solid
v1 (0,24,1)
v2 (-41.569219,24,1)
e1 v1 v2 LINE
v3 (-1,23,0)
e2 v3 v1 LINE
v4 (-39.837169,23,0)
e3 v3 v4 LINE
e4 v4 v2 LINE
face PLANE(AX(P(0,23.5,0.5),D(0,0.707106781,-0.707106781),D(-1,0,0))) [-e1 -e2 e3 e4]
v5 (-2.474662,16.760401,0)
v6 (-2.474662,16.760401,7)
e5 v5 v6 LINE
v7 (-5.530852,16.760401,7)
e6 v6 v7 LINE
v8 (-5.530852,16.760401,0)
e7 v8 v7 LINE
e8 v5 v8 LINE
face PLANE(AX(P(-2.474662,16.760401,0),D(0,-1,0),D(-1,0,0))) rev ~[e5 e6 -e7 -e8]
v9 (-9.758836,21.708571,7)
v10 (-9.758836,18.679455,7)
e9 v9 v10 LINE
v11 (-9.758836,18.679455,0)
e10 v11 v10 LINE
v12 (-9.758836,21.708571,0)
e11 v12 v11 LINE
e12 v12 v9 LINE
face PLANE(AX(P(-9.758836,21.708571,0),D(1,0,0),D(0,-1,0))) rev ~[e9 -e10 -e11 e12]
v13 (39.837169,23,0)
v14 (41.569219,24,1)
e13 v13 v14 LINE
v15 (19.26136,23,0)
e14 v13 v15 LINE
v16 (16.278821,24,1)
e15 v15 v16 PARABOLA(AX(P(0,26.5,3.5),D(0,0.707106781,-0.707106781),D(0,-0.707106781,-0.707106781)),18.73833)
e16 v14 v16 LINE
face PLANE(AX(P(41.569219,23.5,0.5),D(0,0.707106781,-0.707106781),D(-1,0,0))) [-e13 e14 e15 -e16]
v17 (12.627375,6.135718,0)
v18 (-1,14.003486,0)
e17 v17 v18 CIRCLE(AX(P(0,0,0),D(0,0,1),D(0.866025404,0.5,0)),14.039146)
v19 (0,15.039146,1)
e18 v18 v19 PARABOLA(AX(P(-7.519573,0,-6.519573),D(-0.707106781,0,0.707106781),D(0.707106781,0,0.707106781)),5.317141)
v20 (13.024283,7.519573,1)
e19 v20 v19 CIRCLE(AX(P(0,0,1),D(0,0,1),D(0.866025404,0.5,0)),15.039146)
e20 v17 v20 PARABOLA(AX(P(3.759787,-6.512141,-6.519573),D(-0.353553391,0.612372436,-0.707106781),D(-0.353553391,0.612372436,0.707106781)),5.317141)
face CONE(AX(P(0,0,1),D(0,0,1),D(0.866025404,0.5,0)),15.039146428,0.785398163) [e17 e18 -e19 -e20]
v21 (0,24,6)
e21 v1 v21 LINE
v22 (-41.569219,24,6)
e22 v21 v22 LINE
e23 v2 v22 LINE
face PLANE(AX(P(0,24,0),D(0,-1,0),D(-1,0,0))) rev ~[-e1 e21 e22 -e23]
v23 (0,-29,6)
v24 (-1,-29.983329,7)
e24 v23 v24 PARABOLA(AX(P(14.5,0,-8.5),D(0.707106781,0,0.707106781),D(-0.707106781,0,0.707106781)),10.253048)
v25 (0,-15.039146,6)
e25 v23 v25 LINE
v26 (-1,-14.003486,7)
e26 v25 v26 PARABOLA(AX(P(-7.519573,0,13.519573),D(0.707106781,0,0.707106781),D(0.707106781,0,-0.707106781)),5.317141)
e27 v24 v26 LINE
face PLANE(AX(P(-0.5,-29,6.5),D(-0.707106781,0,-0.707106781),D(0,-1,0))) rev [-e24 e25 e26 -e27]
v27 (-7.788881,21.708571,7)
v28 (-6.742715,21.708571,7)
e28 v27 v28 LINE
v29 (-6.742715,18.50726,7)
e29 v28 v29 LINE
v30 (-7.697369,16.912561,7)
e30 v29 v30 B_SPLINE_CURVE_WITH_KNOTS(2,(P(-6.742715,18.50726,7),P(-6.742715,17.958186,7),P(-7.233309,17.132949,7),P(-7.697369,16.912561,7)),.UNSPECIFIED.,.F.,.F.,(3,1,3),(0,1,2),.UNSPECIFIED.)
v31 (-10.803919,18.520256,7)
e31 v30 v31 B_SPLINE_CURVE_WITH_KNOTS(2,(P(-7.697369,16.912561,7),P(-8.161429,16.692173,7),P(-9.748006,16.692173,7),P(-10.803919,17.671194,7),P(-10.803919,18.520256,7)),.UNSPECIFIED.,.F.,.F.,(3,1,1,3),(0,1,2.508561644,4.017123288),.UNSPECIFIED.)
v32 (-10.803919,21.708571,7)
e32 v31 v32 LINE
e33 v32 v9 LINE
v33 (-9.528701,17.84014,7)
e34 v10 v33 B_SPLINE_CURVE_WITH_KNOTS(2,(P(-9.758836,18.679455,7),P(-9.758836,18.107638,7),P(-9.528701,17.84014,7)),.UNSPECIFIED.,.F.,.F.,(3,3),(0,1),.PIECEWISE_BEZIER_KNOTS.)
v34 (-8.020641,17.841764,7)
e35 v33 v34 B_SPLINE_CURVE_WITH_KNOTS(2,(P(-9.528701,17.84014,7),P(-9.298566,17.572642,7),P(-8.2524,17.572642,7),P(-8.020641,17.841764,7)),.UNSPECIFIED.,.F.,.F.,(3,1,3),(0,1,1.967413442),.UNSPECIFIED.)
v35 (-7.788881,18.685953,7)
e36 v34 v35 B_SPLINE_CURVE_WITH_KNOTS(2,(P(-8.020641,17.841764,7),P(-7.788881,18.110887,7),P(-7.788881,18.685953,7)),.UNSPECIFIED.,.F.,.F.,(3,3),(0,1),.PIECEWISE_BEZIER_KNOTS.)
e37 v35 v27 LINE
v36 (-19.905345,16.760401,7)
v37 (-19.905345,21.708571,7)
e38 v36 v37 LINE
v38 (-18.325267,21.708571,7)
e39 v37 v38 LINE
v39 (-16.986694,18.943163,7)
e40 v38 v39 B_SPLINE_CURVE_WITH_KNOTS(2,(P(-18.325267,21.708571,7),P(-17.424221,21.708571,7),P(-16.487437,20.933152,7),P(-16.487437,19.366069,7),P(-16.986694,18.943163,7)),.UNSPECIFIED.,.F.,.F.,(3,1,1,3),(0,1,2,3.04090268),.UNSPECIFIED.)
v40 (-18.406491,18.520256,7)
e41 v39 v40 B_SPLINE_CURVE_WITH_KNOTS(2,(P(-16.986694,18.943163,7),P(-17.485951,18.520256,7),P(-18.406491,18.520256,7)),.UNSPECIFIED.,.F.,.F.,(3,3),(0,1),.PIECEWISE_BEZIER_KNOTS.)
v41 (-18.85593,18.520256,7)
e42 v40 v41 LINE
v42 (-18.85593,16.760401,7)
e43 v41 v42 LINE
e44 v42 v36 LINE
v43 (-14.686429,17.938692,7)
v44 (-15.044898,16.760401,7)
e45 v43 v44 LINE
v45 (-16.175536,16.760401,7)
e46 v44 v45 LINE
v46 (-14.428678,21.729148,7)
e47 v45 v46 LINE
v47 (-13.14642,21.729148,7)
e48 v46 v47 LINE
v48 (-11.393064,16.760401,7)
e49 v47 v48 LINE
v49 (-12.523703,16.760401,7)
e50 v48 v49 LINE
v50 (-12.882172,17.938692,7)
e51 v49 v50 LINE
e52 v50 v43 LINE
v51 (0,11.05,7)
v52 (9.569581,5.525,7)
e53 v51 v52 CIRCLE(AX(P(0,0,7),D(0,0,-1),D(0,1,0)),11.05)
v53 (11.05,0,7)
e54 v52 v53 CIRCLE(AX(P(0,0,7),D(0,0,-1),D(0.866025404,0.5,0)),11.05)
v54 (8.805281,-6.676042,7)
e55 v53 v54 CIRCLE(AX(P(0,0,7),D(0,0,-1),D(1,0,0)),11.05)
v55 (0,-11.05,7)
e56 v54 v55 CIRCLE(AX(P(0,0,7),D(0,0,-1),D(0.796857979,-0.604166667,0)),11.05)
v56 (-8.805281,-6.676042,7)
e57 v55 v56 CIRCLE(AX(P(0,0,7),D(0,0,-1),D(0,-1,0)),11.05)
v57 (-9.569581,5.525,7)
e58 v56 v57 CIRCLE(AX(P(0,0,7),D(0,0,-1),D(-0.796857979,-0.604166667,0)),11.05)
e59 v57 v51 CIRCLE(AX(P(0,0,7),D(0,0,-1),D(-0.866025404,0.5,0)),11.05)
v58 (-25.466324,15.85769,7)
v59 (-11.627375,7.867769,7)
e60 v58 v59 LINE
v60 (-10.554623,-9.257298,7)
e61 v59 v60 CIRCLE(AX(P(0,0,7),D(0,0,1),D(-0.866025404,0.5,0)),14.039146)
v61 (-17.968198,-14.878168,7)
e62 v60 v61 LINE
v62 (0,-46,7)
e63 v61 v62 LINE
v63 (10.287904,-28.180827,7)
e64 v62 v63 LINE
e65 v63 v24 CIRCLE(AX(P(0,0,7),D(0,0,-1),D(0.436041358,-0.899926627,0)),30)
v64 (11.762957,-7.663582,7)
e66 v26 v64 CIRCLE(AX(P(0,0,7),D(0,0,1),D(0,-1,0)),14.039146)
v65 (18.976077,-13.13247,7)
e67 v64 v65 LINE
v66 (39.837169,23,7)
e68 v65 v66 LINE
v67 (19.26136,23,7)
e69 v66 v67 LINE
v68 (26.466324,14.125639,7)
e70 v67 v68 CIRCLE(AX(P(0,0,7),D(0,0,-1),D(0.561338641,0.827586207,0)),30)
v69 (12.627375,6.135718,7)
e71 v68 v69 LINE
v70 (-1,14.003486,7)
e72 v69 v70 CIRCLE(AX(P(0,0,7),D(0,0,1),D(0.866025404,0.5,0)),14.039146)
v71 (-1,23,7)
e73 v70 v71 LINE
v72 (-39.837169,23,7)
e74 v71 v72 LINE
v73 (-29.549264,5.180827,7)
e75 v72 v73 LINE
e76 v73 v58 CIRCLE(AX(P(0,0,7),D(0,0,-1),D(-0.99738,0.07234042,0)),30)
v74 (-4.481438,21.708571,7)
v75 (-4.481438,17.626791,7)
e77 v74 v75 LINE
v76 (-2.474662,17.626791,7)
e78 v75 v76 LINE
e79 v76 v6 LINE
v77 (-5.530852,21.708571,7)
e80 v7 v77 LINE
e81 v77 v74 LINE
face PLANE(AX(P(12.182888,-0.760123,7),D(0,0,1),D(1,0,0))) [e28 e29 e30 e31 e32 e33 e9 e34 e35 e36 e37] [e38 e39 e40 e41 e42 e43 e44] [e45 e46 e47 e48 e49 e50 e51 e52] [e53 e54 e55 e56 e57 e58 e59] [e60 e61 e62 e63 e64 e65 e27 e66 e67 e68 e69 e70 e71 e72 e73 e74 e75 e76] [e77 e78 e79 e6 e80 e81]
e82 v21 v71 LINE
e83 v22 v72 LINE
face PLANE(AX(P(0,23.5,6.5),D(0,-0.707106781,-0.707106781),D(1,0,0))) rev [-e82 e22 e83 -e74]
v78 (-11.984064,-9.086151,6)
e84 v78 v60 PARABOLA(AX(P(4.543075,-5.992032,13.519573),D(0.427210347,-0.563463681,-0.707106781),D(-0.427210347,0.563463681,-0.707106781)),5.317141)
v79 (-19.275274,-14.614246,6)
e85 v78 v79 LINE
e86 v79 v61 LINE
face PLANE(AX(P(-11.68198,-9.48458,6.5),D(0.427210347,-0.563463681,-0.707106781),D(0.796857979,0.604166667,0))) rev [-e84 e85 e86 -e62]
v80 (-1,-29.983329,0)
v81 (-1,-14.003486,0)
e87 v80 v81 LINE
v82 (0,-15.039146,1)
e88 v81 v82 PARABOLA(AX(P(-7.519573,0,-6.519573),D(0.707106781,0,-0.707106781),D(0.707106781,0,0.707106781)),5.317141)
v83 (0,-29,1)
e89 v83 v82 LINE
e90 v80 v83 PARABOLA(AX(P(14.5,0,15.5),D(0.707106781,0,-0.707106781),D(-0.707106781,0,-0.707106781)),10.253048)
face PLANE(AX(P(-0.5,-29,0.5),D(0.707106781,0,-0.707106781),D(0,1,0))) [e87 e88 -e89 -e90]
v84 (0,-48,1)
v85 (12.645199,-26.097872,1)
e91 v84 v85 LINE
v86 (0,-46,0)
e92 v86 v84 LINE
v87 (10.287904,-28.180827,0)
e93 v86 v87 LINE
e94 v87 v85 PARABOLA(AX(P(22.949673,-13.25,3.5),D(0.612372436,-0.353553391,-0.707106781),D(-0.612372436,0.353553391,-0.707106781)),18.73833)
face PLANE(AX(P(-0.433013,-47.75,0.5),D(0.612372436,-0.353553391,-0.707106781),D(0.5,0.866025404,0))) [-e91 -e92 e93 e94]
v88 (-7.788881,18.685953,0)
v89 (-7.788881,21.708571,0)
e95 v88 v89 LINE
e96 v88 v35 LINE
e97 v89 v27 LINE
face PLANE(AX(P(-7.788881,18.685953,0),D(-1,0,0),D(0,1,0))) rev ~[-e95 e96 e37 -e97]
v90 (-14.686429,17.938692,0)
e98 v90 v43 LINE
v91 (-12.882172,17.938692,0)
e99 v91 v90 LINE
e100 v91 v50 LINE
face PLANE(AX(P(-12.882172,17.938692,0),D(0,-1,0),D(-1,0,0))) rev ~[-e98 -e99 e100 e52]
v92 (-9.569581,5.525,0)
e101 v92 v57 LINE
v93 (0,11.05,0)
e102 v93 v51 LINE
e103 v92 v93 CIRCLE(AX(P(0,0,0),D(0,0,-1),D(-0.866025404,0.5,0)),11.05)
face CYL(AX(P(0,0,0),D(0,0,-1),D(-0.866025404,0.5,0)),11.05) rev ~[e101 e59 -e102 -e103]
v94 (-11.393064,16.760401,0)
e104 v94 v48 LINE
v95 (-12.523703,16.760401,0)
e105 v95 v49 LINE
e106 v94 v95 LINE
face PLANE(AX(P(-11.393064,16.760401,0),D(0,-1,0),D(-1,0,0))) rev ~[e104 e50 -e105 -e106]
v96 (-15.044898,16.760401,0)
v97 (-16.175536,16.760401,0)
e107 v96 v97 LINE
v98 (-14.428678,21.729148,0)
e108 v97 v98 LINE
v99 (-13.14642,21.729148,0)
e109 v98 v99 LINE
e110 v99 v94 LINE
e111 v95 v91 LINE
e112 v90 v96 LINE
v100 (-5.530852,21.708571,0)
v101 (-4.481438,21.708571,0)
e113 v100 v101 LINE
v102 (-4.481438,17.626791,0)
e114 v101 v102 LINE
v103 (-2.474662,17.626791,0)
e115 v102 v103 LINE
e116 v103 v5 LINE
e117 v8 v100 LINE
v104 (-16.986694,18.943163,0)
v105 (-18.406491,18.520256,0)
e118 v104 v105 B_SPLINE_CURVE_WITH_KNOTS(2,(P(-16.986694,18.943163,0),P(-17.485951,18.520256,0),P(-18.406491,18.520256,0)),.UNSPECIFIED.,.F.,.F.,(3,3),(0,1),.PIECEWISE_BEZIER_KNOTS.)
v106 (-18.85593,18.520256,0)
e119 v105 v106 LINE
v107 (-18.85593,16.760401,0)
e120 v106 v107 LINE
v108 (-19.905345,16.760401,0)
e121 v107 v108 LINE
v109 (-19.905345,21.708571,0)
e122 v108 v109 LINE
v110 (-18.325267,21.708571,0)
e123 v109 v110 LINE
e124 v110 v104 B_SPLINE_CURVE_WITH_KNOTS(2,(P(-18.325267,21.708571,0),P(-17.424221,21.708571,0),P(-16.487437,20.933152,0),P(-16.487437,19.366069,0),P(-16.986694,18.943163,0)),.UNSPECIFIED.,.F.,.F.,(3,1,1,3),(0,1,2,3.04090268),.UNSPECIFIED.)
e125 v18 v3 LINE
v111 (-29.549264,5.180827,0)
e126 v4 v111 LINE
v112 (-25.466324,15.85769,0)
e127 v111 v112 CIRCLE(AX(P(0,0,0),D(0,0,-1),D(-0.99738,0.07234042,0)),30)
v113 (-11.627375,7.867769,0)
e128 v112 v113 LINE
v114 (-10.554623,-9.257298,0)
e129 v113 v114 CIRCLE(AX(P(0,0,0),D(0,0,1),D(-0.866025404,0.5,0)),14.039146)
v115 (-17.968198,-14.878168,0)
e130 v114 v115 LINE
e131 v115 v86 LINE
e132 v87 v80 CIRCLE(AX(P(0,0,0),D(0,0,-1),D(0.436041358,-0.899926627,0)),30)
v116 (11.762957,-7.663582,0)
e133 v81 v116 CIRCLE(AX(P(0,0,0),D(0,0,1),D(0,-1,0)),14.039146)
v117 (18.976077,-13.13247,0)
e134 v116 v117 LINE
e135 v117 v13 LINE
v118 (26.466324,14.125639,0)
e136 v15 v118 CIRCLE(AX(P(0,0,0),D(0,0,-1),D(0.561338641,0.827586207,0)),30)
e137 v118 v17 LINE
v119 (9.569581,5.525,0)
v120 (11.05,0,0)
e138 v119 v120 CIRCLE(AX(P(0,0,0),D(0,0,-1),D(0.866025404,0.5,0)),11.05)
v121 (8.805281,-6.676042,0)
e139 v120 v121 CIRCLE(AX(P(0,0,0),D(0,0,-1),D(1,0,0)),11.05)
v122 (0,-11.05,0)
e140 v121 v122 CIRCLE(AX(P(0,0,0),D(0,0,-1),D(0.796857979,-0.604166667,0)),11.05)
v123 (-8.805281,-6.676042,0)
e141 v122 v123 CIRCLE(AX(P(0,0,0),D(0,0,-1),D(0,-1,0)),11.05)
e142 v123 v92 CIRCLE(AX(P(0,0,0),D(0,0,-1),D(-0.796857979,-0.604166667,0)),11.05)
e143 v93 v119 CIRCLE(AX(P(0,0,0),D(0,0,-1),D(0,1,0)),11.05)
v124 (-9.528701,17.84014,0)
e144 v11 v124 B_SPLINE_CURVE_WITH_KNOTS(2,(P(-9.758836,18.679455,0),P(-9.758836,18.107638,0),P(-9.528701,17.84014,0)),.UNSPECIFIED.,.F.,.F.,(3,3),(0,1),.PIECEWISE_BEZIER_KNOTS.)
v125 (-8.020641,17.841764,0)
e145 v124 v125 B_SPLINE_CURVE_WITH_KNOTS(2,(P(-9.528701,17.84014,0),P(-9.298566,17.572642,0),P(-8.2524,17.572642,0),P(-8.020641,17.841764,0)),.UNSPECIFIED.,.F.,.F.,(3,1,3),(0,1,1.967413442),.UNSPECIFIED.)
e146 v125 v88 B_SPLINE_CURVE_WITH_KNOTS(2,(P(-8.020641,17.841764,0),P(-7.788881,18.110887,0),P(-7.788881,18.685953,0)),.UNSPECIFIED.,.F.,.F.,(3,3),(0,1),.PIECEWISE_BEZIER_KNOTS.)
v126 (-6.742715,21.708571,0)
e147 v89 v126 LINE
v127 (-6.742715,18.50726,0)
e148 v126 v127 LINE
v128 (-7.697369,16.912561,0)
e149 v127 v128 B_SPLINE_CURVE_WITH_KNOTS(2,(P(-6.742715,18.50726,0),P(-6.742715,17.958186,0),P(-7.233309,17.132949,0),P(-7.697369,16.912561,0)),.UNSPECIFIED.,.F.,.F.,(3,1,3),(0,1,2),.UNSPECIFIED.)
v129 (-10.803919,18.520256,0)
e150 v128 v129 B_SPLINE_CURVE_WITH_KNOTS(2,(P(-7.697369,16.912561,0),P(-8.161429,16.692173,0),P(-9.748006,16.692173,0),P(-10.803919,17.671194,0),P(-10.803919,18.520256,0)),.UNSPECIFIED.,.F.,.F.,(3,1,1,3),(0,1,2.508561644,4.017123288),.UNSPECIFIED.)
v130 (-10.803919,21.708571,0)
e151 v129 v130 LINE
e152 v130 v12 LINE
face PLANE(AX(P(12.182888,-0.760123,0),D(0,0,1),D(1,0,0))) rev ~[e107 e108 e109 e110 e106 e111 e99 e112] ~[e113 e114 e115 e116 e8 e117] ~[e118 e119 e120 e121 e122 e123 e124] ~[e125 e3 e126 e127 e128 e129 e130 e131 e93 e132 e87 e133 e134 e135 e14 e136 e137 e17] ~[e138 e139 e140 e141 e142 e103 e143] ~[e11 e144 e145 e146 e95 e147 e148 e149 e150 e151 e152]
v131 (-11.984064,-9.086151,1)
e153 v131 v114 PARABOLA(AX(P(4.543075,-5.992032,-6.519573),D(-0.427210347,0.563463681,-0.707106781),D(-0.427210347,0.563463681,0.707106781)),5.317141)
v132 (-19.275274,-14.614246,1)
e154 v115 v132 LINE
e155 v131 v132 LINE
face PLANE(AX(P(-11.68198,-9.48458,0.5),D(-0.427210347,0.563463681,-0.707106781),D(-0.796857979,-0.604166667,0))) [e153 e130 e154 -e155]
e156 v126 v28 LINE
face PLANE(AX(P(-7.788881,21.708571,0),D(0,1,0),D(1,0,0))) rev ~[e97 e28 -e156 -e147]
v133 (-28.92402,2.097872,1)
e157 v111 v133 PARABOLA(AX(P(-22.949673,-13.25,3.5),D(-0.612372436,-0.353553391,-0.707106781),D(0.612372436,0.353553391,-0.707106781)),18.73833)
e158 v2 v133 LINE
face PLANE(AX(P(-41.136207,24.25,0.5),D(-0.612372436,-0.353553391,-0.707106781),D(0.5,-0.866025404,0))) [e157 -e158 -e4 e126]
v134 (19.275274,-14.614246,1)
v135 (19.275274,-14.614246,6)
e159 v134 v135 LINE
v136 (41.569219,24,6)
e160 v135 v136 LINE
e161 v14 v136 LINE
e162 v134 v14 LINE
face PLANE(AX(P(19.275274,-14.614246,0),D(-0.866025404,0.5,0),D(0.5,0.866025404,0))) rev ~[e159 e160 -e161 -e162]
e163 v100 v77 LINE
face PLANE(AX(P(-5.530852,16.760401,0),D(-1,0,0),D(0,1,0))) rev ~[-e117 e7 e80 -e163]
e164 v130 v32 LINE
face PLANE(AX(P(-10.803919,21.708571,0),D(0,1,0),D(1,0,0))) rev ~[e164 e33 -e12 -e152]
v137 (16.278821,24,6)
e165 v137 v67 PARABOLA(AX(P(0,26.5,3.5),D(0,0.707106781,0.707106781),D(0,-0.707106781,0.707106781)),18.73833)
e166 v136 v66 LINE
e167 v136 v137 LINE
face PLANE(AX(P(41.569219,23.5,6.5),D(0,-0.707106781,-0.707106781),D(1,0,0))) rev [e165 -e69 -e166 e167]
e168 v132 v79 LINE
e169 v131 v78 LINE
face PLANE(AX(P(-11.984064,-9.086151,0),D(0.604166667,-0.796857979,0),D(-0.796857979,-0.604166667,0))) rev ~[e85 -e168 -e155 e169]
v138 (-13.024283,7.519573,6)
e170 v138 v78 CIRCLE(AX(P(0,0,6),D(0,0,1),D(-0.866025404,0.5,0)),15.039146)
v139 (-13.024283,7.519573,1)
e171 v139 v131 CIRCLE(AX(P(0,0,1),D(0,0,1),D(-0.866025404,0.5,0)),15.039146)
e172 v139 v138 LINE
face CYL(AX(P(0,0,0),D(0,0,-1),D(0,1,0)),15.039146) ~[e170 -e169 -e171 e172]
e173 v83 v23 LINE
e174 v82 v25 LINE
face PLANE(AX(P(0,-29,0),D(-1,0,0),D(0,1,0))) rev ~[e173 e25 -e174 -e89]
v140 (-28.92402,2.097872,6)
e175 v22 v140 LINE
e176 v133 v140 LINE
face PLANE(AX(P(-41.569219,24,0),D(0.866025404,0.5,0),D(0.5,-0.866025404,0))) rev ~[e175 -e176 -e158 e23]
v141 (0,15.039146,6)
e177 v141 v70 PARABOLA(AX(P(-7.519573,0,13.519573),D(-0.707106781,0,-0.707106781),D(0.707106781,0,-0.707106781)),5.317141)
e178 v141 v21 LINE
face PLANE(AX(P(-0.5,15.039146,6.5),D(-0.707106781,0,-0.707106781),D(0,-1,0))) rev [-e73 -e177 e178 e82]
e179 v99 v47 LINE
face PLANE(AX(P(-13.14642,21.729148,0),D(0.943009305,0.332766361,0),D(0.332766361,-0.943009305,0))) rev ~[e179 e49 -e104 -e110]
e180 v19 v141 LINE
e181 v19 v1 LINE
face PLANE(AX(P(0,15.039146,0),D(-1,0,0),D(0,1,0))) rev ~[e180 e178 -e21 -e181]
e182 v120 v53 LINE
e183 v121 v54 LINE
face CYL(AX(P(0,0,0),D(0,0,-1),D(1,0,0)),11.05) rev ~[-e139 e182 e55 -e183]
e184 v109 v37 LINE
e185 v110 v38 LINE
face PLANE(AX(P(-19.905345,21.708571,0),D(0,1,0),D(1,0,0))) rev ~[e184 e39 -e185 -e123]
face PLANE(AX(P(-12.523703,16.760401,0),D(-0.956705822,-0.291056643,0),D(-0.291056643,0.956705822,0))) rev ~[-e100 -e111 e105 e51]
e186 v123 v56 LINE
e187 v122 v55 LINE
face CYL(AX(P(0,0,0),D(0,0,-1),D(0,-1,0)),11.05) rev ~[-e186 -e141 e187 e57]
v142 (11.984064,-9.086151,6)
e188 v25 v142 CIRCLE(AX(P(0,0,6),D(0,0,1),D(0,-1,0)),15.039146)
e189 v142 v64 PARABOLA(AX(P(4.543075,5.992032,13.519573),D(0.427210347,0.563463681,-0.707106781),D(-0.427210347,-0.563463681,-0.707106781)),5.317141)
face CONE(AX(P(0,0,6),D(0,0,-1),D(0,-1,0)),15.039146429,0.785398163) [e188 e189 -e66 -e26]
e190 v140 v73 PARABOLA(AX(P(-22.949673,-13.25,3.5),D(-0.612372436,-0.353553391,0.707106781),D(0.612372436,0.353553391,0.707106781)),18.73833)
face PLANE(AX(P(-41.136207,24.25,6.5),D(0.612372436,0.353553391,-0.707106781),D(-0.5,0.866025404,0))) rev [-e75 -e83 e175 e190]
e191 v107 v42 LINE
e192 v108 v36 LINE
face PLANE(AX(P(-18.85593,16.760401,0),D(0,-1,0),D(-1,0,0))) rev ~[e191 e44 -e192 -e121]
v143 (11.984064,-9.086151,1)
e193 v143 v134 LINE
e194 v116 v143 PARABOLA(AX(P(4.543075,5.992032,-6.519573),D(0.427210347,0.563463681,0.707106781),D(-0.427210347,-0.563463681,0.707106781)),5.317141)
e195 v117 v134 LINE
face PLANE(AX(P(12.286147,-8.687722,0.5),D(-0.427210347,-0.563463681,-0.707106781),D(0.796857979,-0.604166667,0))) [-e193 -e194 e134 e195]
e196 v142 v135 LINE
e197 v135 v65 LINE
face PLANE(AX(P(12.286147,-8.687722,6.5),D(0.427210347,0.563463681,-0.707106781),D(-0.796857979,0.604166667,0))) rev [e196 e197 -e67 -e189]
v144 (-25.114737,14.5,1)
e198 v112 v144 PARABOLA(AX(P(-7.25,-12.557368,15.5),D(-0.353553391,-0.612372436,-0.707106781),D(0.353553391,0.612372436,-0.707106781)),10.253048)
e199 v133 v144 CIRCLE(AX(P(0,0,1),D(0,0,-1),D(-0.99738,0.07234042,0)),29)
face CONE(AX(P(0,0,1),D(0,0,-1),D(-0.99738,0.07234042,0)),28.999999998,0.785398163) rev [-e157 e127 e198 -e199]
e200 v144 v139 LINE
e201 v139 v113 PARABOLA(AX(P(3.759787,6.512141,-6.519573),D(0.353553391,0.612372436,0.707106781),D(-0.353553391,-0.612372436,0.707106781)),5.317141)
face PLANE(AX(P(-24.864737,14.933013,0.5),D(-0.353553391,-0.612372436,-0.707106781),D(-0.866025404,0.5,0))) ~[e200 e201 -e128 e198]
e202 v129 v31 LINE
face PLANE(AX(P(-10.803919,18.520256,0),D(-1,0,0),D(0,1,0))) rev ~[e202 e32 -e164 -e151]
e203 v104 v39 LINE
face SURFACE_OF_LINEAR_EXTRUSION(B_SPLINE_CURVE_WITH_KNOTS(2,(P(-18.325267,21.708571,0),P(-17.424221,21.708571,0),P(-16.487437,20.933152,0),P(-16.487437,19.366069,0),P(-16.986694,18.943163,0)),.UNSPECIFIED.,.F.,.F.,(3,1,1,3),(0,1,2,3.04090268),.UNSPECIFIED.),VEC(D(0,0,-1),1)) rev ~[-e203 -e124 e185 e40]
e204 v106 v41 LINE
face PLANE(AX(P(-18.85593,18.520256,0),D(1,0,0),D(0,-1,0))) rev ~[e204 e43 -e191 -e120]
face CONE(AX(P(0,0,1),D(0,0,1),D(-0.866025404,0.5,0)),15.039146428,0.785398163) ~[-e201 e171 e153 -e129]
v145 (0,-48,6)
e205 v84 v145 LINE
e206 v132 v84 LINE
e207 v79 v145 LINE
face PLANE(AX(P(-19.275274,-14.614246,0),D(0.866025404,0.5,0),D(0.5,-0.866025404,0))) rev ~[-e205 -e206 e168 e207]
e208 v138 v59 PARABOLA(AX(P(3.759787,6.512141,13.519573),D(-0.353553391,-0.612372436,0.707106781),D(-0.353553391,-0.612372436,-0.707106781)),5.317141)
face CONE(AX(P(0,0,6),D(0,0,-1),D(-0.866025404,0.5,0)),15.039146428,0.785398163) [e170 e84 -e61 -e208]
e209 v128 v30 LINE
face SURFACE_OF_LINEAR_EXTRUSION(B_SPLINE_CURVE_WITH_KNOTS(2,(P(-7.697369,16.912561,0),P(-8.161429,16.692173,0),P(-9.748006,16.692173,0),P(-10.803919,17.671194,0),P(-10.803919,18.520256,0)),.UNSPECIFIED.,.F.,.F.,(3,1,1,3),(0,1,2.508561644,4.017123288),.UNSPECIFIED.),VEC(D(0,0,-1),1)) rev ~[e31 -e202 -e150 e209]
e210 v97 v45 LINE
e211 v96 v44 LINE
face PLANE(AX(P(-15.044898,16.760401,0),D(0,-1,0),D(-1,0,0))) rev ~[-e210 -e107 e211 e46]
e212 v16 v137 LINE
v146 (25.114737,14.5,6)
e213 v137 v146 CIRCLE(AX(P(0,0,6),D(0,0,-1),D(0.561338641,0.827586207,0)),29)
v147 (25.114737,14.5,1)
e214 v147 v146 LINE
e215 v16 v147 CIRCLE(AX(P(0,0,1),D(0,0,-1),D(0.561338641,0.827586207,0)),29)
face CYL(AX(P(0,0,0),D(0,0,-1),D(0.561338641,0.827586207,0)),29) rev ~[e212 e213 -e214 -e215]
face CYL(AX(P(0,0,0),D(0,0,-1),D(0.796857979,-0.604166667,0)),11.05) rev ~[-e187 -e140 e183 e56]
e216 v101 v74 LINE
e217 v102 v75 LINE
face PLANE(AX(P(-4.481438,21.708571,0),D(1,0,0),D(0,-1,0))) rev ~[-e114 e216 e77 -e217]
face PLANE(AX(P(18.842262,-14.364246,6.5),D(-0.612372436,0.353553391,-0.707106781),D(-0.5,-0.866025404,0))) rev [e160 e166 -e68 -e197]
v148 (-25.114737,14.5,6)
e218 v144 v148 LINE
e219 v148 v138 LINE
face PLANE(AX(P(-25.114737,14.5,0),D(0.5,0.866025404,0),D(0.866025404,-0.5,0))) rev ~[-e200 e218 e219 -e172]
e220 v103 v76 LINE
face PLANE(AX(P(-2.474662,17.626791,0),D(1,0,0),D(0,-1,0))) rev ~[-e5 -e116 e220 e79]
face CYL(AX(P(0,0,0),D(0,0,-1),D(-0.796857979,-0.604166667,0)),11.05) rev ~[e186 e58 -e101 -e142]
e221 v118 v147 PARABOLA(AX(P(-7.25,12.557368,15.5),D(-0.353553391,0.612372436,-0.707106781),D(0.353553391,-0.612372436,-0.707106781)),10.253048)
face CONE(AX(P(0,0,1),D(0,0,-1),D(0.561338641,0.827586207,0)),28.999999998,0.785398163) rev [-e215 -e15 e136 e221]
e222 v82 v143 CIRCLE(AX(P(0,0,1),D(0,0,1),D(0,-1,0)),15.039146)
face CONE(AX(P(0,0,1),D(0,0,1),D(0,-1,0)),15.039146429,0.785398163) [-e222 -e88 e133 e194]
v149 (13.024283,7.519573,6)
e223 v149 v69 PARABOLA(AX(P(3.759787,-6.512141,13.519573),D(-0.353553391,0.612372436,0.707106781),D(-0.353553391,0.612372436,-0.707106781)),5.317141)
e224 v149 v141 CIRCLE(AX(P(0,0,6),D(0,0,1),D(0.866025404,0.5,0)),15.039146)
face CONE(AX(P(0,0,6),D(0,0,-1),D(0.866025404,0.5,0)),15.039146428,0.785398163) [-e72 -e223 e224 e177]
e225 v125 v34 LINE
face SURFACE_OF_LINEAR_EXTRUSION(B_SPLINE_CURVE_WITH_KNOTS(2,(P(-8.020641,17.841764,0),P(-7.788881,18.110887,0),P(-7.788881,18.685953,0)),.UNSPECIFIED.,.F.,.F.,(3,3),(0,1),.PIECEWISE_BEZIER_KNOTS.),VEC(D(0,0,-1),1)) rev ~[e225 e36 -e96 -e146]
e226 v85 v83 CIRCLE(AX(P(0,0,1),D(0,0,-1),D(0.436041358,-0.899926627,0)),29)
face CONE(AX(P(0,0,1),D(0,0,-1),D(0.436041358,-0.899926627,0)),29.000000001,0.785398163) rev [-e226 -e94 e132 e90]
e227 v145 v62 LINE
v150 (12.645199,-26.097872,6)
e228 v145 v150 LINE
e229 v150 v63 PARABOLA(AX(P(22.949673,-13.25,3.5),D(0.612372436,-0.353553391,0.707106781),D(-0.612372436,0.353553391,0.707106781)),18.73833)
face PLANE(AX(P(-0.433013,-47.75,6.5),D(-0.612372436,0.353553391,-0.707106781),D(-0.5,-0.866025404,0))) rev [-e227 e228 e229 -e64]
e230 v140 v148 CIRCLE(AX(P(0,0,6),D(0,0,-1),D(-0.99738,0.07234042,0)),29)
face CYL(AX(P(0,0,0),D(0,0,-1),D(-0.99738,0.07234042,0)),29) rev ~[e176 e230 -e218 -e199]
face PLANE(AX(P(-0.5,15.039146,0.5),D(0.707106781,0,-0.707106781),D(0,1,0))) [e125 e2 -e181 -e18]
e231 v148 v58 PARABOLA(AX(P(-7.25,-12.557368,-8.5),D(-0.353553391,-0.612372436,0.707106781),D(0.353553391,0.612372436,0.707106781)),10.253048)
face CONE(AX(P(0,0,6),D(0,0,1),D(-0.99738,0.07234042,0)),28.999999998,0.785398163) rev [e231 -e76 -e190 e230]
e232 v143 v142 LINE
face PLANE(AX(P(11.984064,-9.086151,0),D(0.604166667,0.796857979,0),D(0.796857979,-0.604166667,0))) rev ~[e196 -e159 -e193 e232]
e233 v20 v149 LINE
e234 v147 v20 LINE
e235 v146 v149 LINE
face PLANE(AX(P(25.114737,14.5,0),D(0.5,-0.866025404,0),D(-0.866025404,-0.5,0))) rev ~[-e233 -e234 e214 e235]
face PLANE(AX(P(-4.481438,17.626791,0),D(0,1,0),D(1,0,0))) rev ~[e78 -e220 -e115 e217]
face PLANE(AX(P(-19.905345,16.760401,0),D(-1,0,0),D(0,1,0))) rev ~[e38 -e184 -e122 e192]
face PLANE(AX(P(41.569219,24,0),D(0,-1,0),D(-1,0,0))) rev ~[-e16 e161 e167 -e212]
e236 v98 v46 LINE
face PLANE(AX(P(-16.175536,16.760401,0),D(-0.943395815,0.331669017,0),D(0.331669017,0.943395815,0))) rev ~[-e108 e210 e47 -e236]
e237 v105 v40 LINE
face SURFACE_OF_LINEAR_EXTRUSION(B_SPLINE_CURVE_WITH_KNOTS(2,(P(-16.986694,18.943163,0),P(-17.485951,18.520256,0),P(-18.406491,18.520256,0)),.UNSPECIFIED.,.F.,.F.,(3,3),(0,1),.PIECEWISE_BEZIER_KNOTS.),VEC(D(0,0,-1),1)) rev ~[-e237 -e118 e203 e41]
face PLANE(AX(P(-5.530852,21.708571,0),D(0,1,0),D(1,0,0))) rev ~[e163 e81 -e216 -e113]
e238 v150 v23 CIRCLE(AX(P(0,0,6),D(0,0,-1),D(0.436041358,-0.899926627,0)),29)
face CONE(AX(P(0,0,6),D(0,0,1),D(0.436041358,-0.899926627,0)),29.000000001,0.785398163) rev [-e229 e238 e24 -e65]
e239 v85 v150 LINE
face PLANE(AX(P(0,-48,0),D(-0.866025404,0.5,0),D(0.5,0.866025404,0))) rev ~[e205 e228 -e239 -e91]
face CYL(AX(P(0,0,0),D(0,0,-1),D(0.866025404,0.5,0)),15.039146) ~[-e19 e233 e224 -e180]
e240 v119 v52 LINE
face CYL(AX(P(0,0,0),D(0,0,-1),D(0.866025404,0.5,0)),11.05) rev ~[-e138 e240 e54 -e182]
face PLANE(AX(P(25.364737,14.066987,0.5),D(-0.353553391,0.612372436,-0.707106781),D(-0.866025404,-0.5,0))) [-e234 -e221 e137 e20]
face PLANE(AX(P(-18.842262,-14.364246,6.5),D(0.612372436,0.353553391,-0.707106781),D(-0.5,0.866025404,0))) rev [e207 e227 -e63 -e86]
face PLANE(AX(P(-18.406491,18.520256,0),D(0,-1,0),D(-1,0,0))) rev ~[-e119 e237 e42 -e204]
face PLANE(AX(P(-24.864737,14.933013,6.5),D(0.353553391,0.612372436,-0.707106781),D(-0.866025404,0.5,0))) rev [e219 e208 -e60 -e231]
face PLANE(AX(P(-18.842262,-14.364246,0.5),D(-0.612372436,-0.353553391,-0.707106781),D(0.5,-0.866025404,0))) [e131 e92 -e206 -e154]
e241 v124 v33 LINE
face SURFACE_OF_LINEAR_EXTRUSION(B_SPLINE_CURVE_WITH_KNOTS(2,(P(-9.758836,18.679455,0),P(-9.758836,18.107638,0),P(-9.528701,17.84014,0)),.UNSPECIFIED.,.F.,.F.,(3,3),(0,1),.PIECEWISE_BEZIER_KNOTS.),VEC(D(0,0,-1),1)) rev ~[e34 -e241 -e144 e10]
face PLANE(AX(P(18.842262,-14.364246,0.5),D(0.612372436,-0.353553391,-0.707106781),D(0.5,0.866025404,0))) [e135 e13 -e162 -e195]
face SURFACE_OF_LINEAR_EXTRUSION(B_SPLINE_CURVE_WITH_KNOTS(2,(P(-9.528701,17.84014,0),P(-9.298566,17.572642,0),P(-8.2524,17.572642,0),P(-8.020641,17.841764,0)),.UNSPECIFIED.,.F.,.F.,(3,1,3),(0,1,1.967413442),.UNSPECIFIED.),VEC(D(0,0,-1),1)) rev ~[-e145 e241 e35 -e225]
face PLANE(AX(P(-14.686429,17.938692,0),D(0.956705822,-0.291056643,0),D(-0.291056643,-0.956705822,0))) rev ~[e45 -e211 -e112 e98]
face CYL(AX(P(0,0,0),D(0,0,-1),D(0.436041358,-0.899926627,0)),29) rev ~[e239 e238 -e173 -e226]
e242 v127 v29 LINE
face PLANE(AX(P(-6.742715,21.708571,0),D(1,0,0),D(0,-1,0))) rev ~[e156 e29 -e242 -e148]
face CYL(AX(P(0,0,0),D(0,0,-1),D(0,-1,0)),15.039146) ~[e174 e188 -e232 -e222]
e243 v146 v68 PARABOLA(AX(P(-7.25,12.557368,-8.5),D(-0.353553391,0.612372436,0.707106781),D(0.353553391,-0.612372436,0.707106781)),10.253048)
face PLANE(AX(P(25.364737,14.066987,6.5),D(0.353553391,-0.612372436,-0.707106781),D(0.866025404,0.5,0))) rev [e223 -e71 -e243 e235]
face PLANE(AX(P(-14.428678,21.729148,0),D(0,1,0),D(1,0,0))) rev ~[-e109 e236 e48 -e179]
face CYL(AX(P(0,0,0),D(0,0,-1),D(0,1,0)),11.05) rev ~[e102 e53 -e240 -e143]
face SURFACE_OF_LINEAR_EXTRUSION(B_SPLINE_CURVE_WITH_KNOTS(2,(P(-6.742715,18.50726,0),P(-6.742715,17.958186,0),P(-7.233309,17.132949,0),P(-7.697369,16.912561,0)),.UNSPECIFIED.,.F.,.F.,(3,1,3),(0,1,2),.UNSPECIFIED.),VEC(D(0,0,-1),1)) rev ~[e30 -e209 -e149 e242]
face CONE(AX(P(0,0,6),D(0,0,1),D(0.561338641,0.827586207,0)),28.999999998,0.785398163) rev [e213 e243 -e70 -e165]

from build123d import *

# Parameters (mm, degrees)
F1_DEPTH = 7
F2_SIZE  = 1
F3_SIZE  = 1


with BuildPart() as f1:
    # F0 (on Top) → F1 (new body)
    with BuildSketch(Plane.XY):
        with BuildLine():
            ThreePointArc((9.5695807118, 5.525), (10.6734803805, 2.8599504484), (11.05, 0))
            ThreePointArc((11.05, 0), (10.4737971003, -3.5216578911), (8.8052806693, -6.6760416667))
            Line((8.8052806693, -6.6760416667), (11.9840638306, -9.0861509672))
            ThreePointArc((11.9840638306, -9.0861509672), (14.2549292536, -4.7930071218), (15.0391464284, 0))
            ThreePointArc((15.0391464284, 0), (14.5266999405, 3.8924175178), (13.0242828582, 7.5195732142))
            Line((13.0242828582, 7.5195732142), (9.5695807118, 5.525))
        make_face()
        with BuildLine():
            ThreePointArc((0, 11.05), (5.525, 9.5695807118), (9.5695807118, 5.525))
            Line((9.5695807118, 5.525), (13.0242828582, 7.5195732142))
            ThreePointArc((13.0242828582, 7.5195732142), (7.5195732142, 13.0242828582), (0, 15.0391464284))
            Line((0, 15.0391464284), (0, 11.05))
        make_face()
        with BuildLine():
            Line((11.9840638306, -9.0861509672), (8.8052806693, -6.6760416667))
            ThreePointArc((8.8052806693, -6.6760416667), (4.9159047785, -9.8962811302), (0, -11.05))
            Line((0, -11.05), (0, -15.0391464284))
            ThreePointArc((0, -15.0391464284), (6.6905893025, -13.4689249786), (11.9840638306, -9.0861509672))
        make_face()
        with BuildLine():
            ThreePointArc((-9.5695807118, 5.525), (-5.525, 9.5695807118), (0, 11.05))
            Line((0, 11.05), (0, 15.0391464284))
            ThreePointArc((0, 15.0391464284), (-7.5195732142, 13.0242828582), (-13.0242828582, 7.5195732142))
            Line((-13.0242828582, 7.5195732142), (-9.5695807118, 5.525))
        make_face()
        with BuildLine():
            Line((25.1147367097, 14.5), (13.0242828582, 7.5195732142))
            ThreePointArc((13.0242828582, 7.5195732142), (14.5266999405, 3.8924175178), (15.0391464284, 0))
            ThreePointArc((15.0391464284, 0), (14.2549292536, -4.7930071218), (11.9840638306, -9.0861509672))
            Line((11.9840638306, -9.0861509672), (19.2752742891, -14.6142456014))
            Line((19.2752742891, -14.6142456014), (41.5692193817, 24))
            Line((41.5692193817, 24), (16.2788205961, 24))
            ThreePointArc((16.2788205961, 24), (21.2348568775, 19.7504646374), (25.1147367097, 14.5))
        make_face()
        with BuildLine():
            Line((0, -15.0391464284), (0, -11.05))
            ThreePointArc((0, -11.05), (-4.9159047785, -9.8962811302), (-8.8052806693, -6.6760416667))
            Line((-8.8052806693, -6.6760416667), (-11.9840638306, -9.0861509672))
            ThreePointArc((-11.9840638306, -9.0861509672), (-6.6905893025, -13.4689249786), (0, -15.0391464284))
        make_face()
        with BuildLine():
            ThreePointArc((-8.8052806693, -6.6760416667), (-11.028383251, -0.6908421443), (-9.5695807118, 5.525))
            Line((-9.5695807118, 5.525), (-13.0242828582, 7.5195732142))
            ThreePointArc((-13.0242828582, 7.5195732142), (-15.0097258444, -0.9402421871), (-11.9840638306, -9.0861509672))
            Line((-11.9840638306, -9.0861509672), (-8.8052806693, -6.6760416667))
        make_face()
        with BuildLine():
            ThreePointArc((-13.0242828582, 7.5195732142), (-7.5195732142, 13.0242828582), (0, 15.0391464284))
            Line((0, 15.0391464284), (0, 24))
            Line((0, 24), (-41.5692193817, 24))
            Line((-41.5692193817, 24), (-28.9240199889, 2.0978721799))
            ThreePointArc((-28.9240199889, 2.0978721799), (-27.7218325513, 8.514693183), (-25.1147367097, 14.5))
            Line((-25.1147367097, 14.5), (-13.0242828582, 7.5195732142))
        make_face()
        with BuildLine():
            add(Edge.make_bspline(
                [(-16.9558289563, 21.3208617303), (-16.4874368687, 20.9331522104), (-16.4874368687, 20.165314083)],
                knots=[0, 0, 0, 1, 1, 1], degree=2))
            add(Edge.make_bspline(
                [(-16.4874368687, 20.165314083), (-16.4874368687, 19.3660693185), (-16.9866940996, 18.9431627053)],
                knots=[0, 0, 0, 1, 1, 1], degree=2))
            add(Edge.make_bspline(
                [(-16.9866940996, 18.9431627053), (-17.4859513306, 18.5202560921), (-18.4064906935, 18.5202560921)],
                knots=[0, 0, 0, 1, 1, 1], degree=2))
            Line((-18.4064906935, 18.5202560921), (-18.8559305, 18.5202560921))
            Line((-18.8559305, 18.5202560921), (-18.8559305, 16.7604014277))
            Line((-18.8559305, 16.7604014277), (-19.9053453737, 16.7604014277))
            Line((-19.9053453737, 16.7604014277), (-19.9053453737, 21.7085712502))
            Line((-19.9053453737, 21.7085712502), (-18.325266632, 21.7085712502))
            add(Edge.make_bspline(
                [(-18.325266632, 21.7085712502), (-17.4242210439, 21.7085712502), (-16.9558289563, 21.3208617303)],
                knots=[0, 0, 0, 1, 1, 1], degree=2))
        make_face(mode=Mode.SUBTRACT)
        Polygon((-11.3930637356, 16.7604014277), (-12.5237026708, 16.7604014277), (-12.8821715286, 17.9386918123), (-14.6864286799, 17.9386918123), (-15.0448975376, 16.7604014277), (-16.1755364728, 16.7604014277), (-14.4286776582, 21.7291480124), (-13.1464204751, 21.7291480124), align=None, mode=Mode.SUBTRACT)
        with BuildLine():
            Line((-7.788881383, 21.7085712502), (-6.7427154718, 21.7085712502))
            Line((-6.7427154718, 21.7085712502), (-6.7427154718, 18.5072602423))
            add(Edge.make_bspline(
                [(-6.7427154718, 18.5072602423), (-6.7427154718, 17.958185587), (-6.9880121373, 17.5455673549)],
                knots=[0, 0, 0, 1, 1, 1], degree=2))
            add(Edge.make_bspline(
                [(-6.9880121373, 17.5455673549), (-7.2333088028, 17.1329491228), (-7.6973689405, 16.9125611695)],
                knots=[0, 0, 0, 1, 1, 1], degree=2))
            add(Edge.make_bspline(
                [(-7.6973689405, 16.9125611695), (-8.1614290781, 16.6921732161), (-8.7938937698, 16.6921732161)],
                knots=[0, 0, 0, 1, 1, 1], degree=2))
            add(Edge.make_bspline(
                [(-8.7938937698, 16.6921732161), (-9.7480057448, 16.6921732161), (-10.2759621441, 17.1816835597)],
                knots=[0, 0, 0, 1, 1, 1], degree=2))
            add(Edge.make_bspline(
                [(-10.2759621441, 17.1816835597), (-10.8039185434, 17.6711939033), (-10.8039185434, 18.5202560921)],
                knots=[0, 0, 0, 1, 1, 1], degree=2))
            Line((-10.8039185434, 18.5202560921), (-10.8039185434, 21.7085712502))
            Line((-10.8039185434, 21.7085712502), (-9.7588356196, 21.7085712502))
            Line((-9.7588356196, 21.7085712502), (-9.7588356196, 18.6794552525))
            add(Edge.make_bspline(
                [(-9.7588356196, 18.6794552525), (-9.7588356196, 18.10763786), (-9.5287007789, 17.8401399511)],
                knots=[0, 0, 0, 1, 1, 1], degree=2))
            add(Edge.make_bspline(
                [(-9.5287007789, 17.8401399511), (-9.2985659382, 17.5726420421), (-8.7668190827, 17.5726420421)],
                knots=[0, 0, 0, 1, 1, 1], degree=2))
            add(Edge.make_bspline(
                [(-8.7668190827, 17.5726420421), (-8.2524000269, 17.5726420421), (-8.020640705, 17.8417644323)],
                knots=[0, 0, 0, 1, 1, 1], degree=2))
            add(Edge.make_bspline(
                [(-8.020640705, 17.8417644323), (-7.788881383, 18.1108868225), (-7.788881383, 18.6859531774)],
                knots=[0, 0, 0, 1, 1, 1], degree=2))
            Line((-7.788881383, 18.6859531774), (-7.788881383, 21.7085712502))
        make_face(mode=Mode.SUBTRACT)
        Polygon((-2.4746617904, 16.7604014277), (-5.5308524752, 16.7604014277), (-5.5308524752, 21.7085712502), (-4.4814376015, 21.7085712502), (-4.4814376015, 17.6267914164), (-2.4746617904, 17.6267914164), align=None, mode=Mode.SUBTRACT)
        with BuildLine():
            Line((0, -29), (0, -15.0391464284))
            ThreePointArc((0, -15.0391464284), (-6.6905893025, -13.4689249786), (-11.9840638306, -9.0861509672))
            Line((-11.9840638306, -9.0861509672), (-19.2752742891, -14.6142456014))
            Line((-19.2752742891, -14.6142456014), (0, -48))
            Line((0, -48), (12.6451993928, -26.0978721799))
            ThreePointArc((12.6451993928, -26.0978721799), (6.4869756738, -28.2651578203), (0, -29))
        make_face()
    extrude(amount=F1_DEPTH)

    # F2
    f2_edges = [f1.edges().sort_by_distance(p)[0] for p in [
        (-20.78461, 24, 7),
        (-35.24662, 13.048936, 7),
        (-19.06951, 11.009787, 7),
        (-15.009726, -0.940242, 7),
        (-27.721833, 8.514693, 7),
        (-15.629669, -11.850198, 7),
        (-9.637637, -31.307123, 7),
        (6.3226, -37.048936, 7),
        (6.690589, -13.468925, 7),
        (0, -22.019573, 7),
        (6.486976, -28.265158, 7),
        (15.629669, -11.850198, 7),
        (30.422247, 4.692877, 7),
        (28.92402, 24, 7),
        (21.234857, 19.750465, 7),
        (19.06951, 11.009787, 7),
        (7.519573, 13.024283, 7),
        (0, 19.519573, 7),
    ]]
    chamfer(f2_edges, length=F2_SIZE)

    # F3
    f3_edges = [f1.edges().sort_by_distance(p)[0] for p in [
        (-9.637637, -31.307123, 0),
        (6.3226, -37.048936, 0),
        (0, -22.019573, 0),
        (6.486976, -28.265158, 0),
        (6.690589, -13.468925, 0),
        (15.629669, -11.850198, 0),
        (30.422247, 4.692877, 0),
        (28.92402, 24, 0),
        (21.234857, 19.750465, 0),
        (19.06951, 11.009787, 0),
        (7.519573, 13.024283, 0),
        (0, 19.519573, 0),
        (-20.78461, 24, 0),
        (-35.24662, 13.048936, 0),
        (-27.721833, 8.514693, 0),
        (-19.06951, 11.009787, 0),
        (-15.009726, -0.940242, 0),
        (-15.629669, -11.850198, 0),
    ]]
    chamfer(f3_edges, length=F3_SIZE)


solid = f1.part
